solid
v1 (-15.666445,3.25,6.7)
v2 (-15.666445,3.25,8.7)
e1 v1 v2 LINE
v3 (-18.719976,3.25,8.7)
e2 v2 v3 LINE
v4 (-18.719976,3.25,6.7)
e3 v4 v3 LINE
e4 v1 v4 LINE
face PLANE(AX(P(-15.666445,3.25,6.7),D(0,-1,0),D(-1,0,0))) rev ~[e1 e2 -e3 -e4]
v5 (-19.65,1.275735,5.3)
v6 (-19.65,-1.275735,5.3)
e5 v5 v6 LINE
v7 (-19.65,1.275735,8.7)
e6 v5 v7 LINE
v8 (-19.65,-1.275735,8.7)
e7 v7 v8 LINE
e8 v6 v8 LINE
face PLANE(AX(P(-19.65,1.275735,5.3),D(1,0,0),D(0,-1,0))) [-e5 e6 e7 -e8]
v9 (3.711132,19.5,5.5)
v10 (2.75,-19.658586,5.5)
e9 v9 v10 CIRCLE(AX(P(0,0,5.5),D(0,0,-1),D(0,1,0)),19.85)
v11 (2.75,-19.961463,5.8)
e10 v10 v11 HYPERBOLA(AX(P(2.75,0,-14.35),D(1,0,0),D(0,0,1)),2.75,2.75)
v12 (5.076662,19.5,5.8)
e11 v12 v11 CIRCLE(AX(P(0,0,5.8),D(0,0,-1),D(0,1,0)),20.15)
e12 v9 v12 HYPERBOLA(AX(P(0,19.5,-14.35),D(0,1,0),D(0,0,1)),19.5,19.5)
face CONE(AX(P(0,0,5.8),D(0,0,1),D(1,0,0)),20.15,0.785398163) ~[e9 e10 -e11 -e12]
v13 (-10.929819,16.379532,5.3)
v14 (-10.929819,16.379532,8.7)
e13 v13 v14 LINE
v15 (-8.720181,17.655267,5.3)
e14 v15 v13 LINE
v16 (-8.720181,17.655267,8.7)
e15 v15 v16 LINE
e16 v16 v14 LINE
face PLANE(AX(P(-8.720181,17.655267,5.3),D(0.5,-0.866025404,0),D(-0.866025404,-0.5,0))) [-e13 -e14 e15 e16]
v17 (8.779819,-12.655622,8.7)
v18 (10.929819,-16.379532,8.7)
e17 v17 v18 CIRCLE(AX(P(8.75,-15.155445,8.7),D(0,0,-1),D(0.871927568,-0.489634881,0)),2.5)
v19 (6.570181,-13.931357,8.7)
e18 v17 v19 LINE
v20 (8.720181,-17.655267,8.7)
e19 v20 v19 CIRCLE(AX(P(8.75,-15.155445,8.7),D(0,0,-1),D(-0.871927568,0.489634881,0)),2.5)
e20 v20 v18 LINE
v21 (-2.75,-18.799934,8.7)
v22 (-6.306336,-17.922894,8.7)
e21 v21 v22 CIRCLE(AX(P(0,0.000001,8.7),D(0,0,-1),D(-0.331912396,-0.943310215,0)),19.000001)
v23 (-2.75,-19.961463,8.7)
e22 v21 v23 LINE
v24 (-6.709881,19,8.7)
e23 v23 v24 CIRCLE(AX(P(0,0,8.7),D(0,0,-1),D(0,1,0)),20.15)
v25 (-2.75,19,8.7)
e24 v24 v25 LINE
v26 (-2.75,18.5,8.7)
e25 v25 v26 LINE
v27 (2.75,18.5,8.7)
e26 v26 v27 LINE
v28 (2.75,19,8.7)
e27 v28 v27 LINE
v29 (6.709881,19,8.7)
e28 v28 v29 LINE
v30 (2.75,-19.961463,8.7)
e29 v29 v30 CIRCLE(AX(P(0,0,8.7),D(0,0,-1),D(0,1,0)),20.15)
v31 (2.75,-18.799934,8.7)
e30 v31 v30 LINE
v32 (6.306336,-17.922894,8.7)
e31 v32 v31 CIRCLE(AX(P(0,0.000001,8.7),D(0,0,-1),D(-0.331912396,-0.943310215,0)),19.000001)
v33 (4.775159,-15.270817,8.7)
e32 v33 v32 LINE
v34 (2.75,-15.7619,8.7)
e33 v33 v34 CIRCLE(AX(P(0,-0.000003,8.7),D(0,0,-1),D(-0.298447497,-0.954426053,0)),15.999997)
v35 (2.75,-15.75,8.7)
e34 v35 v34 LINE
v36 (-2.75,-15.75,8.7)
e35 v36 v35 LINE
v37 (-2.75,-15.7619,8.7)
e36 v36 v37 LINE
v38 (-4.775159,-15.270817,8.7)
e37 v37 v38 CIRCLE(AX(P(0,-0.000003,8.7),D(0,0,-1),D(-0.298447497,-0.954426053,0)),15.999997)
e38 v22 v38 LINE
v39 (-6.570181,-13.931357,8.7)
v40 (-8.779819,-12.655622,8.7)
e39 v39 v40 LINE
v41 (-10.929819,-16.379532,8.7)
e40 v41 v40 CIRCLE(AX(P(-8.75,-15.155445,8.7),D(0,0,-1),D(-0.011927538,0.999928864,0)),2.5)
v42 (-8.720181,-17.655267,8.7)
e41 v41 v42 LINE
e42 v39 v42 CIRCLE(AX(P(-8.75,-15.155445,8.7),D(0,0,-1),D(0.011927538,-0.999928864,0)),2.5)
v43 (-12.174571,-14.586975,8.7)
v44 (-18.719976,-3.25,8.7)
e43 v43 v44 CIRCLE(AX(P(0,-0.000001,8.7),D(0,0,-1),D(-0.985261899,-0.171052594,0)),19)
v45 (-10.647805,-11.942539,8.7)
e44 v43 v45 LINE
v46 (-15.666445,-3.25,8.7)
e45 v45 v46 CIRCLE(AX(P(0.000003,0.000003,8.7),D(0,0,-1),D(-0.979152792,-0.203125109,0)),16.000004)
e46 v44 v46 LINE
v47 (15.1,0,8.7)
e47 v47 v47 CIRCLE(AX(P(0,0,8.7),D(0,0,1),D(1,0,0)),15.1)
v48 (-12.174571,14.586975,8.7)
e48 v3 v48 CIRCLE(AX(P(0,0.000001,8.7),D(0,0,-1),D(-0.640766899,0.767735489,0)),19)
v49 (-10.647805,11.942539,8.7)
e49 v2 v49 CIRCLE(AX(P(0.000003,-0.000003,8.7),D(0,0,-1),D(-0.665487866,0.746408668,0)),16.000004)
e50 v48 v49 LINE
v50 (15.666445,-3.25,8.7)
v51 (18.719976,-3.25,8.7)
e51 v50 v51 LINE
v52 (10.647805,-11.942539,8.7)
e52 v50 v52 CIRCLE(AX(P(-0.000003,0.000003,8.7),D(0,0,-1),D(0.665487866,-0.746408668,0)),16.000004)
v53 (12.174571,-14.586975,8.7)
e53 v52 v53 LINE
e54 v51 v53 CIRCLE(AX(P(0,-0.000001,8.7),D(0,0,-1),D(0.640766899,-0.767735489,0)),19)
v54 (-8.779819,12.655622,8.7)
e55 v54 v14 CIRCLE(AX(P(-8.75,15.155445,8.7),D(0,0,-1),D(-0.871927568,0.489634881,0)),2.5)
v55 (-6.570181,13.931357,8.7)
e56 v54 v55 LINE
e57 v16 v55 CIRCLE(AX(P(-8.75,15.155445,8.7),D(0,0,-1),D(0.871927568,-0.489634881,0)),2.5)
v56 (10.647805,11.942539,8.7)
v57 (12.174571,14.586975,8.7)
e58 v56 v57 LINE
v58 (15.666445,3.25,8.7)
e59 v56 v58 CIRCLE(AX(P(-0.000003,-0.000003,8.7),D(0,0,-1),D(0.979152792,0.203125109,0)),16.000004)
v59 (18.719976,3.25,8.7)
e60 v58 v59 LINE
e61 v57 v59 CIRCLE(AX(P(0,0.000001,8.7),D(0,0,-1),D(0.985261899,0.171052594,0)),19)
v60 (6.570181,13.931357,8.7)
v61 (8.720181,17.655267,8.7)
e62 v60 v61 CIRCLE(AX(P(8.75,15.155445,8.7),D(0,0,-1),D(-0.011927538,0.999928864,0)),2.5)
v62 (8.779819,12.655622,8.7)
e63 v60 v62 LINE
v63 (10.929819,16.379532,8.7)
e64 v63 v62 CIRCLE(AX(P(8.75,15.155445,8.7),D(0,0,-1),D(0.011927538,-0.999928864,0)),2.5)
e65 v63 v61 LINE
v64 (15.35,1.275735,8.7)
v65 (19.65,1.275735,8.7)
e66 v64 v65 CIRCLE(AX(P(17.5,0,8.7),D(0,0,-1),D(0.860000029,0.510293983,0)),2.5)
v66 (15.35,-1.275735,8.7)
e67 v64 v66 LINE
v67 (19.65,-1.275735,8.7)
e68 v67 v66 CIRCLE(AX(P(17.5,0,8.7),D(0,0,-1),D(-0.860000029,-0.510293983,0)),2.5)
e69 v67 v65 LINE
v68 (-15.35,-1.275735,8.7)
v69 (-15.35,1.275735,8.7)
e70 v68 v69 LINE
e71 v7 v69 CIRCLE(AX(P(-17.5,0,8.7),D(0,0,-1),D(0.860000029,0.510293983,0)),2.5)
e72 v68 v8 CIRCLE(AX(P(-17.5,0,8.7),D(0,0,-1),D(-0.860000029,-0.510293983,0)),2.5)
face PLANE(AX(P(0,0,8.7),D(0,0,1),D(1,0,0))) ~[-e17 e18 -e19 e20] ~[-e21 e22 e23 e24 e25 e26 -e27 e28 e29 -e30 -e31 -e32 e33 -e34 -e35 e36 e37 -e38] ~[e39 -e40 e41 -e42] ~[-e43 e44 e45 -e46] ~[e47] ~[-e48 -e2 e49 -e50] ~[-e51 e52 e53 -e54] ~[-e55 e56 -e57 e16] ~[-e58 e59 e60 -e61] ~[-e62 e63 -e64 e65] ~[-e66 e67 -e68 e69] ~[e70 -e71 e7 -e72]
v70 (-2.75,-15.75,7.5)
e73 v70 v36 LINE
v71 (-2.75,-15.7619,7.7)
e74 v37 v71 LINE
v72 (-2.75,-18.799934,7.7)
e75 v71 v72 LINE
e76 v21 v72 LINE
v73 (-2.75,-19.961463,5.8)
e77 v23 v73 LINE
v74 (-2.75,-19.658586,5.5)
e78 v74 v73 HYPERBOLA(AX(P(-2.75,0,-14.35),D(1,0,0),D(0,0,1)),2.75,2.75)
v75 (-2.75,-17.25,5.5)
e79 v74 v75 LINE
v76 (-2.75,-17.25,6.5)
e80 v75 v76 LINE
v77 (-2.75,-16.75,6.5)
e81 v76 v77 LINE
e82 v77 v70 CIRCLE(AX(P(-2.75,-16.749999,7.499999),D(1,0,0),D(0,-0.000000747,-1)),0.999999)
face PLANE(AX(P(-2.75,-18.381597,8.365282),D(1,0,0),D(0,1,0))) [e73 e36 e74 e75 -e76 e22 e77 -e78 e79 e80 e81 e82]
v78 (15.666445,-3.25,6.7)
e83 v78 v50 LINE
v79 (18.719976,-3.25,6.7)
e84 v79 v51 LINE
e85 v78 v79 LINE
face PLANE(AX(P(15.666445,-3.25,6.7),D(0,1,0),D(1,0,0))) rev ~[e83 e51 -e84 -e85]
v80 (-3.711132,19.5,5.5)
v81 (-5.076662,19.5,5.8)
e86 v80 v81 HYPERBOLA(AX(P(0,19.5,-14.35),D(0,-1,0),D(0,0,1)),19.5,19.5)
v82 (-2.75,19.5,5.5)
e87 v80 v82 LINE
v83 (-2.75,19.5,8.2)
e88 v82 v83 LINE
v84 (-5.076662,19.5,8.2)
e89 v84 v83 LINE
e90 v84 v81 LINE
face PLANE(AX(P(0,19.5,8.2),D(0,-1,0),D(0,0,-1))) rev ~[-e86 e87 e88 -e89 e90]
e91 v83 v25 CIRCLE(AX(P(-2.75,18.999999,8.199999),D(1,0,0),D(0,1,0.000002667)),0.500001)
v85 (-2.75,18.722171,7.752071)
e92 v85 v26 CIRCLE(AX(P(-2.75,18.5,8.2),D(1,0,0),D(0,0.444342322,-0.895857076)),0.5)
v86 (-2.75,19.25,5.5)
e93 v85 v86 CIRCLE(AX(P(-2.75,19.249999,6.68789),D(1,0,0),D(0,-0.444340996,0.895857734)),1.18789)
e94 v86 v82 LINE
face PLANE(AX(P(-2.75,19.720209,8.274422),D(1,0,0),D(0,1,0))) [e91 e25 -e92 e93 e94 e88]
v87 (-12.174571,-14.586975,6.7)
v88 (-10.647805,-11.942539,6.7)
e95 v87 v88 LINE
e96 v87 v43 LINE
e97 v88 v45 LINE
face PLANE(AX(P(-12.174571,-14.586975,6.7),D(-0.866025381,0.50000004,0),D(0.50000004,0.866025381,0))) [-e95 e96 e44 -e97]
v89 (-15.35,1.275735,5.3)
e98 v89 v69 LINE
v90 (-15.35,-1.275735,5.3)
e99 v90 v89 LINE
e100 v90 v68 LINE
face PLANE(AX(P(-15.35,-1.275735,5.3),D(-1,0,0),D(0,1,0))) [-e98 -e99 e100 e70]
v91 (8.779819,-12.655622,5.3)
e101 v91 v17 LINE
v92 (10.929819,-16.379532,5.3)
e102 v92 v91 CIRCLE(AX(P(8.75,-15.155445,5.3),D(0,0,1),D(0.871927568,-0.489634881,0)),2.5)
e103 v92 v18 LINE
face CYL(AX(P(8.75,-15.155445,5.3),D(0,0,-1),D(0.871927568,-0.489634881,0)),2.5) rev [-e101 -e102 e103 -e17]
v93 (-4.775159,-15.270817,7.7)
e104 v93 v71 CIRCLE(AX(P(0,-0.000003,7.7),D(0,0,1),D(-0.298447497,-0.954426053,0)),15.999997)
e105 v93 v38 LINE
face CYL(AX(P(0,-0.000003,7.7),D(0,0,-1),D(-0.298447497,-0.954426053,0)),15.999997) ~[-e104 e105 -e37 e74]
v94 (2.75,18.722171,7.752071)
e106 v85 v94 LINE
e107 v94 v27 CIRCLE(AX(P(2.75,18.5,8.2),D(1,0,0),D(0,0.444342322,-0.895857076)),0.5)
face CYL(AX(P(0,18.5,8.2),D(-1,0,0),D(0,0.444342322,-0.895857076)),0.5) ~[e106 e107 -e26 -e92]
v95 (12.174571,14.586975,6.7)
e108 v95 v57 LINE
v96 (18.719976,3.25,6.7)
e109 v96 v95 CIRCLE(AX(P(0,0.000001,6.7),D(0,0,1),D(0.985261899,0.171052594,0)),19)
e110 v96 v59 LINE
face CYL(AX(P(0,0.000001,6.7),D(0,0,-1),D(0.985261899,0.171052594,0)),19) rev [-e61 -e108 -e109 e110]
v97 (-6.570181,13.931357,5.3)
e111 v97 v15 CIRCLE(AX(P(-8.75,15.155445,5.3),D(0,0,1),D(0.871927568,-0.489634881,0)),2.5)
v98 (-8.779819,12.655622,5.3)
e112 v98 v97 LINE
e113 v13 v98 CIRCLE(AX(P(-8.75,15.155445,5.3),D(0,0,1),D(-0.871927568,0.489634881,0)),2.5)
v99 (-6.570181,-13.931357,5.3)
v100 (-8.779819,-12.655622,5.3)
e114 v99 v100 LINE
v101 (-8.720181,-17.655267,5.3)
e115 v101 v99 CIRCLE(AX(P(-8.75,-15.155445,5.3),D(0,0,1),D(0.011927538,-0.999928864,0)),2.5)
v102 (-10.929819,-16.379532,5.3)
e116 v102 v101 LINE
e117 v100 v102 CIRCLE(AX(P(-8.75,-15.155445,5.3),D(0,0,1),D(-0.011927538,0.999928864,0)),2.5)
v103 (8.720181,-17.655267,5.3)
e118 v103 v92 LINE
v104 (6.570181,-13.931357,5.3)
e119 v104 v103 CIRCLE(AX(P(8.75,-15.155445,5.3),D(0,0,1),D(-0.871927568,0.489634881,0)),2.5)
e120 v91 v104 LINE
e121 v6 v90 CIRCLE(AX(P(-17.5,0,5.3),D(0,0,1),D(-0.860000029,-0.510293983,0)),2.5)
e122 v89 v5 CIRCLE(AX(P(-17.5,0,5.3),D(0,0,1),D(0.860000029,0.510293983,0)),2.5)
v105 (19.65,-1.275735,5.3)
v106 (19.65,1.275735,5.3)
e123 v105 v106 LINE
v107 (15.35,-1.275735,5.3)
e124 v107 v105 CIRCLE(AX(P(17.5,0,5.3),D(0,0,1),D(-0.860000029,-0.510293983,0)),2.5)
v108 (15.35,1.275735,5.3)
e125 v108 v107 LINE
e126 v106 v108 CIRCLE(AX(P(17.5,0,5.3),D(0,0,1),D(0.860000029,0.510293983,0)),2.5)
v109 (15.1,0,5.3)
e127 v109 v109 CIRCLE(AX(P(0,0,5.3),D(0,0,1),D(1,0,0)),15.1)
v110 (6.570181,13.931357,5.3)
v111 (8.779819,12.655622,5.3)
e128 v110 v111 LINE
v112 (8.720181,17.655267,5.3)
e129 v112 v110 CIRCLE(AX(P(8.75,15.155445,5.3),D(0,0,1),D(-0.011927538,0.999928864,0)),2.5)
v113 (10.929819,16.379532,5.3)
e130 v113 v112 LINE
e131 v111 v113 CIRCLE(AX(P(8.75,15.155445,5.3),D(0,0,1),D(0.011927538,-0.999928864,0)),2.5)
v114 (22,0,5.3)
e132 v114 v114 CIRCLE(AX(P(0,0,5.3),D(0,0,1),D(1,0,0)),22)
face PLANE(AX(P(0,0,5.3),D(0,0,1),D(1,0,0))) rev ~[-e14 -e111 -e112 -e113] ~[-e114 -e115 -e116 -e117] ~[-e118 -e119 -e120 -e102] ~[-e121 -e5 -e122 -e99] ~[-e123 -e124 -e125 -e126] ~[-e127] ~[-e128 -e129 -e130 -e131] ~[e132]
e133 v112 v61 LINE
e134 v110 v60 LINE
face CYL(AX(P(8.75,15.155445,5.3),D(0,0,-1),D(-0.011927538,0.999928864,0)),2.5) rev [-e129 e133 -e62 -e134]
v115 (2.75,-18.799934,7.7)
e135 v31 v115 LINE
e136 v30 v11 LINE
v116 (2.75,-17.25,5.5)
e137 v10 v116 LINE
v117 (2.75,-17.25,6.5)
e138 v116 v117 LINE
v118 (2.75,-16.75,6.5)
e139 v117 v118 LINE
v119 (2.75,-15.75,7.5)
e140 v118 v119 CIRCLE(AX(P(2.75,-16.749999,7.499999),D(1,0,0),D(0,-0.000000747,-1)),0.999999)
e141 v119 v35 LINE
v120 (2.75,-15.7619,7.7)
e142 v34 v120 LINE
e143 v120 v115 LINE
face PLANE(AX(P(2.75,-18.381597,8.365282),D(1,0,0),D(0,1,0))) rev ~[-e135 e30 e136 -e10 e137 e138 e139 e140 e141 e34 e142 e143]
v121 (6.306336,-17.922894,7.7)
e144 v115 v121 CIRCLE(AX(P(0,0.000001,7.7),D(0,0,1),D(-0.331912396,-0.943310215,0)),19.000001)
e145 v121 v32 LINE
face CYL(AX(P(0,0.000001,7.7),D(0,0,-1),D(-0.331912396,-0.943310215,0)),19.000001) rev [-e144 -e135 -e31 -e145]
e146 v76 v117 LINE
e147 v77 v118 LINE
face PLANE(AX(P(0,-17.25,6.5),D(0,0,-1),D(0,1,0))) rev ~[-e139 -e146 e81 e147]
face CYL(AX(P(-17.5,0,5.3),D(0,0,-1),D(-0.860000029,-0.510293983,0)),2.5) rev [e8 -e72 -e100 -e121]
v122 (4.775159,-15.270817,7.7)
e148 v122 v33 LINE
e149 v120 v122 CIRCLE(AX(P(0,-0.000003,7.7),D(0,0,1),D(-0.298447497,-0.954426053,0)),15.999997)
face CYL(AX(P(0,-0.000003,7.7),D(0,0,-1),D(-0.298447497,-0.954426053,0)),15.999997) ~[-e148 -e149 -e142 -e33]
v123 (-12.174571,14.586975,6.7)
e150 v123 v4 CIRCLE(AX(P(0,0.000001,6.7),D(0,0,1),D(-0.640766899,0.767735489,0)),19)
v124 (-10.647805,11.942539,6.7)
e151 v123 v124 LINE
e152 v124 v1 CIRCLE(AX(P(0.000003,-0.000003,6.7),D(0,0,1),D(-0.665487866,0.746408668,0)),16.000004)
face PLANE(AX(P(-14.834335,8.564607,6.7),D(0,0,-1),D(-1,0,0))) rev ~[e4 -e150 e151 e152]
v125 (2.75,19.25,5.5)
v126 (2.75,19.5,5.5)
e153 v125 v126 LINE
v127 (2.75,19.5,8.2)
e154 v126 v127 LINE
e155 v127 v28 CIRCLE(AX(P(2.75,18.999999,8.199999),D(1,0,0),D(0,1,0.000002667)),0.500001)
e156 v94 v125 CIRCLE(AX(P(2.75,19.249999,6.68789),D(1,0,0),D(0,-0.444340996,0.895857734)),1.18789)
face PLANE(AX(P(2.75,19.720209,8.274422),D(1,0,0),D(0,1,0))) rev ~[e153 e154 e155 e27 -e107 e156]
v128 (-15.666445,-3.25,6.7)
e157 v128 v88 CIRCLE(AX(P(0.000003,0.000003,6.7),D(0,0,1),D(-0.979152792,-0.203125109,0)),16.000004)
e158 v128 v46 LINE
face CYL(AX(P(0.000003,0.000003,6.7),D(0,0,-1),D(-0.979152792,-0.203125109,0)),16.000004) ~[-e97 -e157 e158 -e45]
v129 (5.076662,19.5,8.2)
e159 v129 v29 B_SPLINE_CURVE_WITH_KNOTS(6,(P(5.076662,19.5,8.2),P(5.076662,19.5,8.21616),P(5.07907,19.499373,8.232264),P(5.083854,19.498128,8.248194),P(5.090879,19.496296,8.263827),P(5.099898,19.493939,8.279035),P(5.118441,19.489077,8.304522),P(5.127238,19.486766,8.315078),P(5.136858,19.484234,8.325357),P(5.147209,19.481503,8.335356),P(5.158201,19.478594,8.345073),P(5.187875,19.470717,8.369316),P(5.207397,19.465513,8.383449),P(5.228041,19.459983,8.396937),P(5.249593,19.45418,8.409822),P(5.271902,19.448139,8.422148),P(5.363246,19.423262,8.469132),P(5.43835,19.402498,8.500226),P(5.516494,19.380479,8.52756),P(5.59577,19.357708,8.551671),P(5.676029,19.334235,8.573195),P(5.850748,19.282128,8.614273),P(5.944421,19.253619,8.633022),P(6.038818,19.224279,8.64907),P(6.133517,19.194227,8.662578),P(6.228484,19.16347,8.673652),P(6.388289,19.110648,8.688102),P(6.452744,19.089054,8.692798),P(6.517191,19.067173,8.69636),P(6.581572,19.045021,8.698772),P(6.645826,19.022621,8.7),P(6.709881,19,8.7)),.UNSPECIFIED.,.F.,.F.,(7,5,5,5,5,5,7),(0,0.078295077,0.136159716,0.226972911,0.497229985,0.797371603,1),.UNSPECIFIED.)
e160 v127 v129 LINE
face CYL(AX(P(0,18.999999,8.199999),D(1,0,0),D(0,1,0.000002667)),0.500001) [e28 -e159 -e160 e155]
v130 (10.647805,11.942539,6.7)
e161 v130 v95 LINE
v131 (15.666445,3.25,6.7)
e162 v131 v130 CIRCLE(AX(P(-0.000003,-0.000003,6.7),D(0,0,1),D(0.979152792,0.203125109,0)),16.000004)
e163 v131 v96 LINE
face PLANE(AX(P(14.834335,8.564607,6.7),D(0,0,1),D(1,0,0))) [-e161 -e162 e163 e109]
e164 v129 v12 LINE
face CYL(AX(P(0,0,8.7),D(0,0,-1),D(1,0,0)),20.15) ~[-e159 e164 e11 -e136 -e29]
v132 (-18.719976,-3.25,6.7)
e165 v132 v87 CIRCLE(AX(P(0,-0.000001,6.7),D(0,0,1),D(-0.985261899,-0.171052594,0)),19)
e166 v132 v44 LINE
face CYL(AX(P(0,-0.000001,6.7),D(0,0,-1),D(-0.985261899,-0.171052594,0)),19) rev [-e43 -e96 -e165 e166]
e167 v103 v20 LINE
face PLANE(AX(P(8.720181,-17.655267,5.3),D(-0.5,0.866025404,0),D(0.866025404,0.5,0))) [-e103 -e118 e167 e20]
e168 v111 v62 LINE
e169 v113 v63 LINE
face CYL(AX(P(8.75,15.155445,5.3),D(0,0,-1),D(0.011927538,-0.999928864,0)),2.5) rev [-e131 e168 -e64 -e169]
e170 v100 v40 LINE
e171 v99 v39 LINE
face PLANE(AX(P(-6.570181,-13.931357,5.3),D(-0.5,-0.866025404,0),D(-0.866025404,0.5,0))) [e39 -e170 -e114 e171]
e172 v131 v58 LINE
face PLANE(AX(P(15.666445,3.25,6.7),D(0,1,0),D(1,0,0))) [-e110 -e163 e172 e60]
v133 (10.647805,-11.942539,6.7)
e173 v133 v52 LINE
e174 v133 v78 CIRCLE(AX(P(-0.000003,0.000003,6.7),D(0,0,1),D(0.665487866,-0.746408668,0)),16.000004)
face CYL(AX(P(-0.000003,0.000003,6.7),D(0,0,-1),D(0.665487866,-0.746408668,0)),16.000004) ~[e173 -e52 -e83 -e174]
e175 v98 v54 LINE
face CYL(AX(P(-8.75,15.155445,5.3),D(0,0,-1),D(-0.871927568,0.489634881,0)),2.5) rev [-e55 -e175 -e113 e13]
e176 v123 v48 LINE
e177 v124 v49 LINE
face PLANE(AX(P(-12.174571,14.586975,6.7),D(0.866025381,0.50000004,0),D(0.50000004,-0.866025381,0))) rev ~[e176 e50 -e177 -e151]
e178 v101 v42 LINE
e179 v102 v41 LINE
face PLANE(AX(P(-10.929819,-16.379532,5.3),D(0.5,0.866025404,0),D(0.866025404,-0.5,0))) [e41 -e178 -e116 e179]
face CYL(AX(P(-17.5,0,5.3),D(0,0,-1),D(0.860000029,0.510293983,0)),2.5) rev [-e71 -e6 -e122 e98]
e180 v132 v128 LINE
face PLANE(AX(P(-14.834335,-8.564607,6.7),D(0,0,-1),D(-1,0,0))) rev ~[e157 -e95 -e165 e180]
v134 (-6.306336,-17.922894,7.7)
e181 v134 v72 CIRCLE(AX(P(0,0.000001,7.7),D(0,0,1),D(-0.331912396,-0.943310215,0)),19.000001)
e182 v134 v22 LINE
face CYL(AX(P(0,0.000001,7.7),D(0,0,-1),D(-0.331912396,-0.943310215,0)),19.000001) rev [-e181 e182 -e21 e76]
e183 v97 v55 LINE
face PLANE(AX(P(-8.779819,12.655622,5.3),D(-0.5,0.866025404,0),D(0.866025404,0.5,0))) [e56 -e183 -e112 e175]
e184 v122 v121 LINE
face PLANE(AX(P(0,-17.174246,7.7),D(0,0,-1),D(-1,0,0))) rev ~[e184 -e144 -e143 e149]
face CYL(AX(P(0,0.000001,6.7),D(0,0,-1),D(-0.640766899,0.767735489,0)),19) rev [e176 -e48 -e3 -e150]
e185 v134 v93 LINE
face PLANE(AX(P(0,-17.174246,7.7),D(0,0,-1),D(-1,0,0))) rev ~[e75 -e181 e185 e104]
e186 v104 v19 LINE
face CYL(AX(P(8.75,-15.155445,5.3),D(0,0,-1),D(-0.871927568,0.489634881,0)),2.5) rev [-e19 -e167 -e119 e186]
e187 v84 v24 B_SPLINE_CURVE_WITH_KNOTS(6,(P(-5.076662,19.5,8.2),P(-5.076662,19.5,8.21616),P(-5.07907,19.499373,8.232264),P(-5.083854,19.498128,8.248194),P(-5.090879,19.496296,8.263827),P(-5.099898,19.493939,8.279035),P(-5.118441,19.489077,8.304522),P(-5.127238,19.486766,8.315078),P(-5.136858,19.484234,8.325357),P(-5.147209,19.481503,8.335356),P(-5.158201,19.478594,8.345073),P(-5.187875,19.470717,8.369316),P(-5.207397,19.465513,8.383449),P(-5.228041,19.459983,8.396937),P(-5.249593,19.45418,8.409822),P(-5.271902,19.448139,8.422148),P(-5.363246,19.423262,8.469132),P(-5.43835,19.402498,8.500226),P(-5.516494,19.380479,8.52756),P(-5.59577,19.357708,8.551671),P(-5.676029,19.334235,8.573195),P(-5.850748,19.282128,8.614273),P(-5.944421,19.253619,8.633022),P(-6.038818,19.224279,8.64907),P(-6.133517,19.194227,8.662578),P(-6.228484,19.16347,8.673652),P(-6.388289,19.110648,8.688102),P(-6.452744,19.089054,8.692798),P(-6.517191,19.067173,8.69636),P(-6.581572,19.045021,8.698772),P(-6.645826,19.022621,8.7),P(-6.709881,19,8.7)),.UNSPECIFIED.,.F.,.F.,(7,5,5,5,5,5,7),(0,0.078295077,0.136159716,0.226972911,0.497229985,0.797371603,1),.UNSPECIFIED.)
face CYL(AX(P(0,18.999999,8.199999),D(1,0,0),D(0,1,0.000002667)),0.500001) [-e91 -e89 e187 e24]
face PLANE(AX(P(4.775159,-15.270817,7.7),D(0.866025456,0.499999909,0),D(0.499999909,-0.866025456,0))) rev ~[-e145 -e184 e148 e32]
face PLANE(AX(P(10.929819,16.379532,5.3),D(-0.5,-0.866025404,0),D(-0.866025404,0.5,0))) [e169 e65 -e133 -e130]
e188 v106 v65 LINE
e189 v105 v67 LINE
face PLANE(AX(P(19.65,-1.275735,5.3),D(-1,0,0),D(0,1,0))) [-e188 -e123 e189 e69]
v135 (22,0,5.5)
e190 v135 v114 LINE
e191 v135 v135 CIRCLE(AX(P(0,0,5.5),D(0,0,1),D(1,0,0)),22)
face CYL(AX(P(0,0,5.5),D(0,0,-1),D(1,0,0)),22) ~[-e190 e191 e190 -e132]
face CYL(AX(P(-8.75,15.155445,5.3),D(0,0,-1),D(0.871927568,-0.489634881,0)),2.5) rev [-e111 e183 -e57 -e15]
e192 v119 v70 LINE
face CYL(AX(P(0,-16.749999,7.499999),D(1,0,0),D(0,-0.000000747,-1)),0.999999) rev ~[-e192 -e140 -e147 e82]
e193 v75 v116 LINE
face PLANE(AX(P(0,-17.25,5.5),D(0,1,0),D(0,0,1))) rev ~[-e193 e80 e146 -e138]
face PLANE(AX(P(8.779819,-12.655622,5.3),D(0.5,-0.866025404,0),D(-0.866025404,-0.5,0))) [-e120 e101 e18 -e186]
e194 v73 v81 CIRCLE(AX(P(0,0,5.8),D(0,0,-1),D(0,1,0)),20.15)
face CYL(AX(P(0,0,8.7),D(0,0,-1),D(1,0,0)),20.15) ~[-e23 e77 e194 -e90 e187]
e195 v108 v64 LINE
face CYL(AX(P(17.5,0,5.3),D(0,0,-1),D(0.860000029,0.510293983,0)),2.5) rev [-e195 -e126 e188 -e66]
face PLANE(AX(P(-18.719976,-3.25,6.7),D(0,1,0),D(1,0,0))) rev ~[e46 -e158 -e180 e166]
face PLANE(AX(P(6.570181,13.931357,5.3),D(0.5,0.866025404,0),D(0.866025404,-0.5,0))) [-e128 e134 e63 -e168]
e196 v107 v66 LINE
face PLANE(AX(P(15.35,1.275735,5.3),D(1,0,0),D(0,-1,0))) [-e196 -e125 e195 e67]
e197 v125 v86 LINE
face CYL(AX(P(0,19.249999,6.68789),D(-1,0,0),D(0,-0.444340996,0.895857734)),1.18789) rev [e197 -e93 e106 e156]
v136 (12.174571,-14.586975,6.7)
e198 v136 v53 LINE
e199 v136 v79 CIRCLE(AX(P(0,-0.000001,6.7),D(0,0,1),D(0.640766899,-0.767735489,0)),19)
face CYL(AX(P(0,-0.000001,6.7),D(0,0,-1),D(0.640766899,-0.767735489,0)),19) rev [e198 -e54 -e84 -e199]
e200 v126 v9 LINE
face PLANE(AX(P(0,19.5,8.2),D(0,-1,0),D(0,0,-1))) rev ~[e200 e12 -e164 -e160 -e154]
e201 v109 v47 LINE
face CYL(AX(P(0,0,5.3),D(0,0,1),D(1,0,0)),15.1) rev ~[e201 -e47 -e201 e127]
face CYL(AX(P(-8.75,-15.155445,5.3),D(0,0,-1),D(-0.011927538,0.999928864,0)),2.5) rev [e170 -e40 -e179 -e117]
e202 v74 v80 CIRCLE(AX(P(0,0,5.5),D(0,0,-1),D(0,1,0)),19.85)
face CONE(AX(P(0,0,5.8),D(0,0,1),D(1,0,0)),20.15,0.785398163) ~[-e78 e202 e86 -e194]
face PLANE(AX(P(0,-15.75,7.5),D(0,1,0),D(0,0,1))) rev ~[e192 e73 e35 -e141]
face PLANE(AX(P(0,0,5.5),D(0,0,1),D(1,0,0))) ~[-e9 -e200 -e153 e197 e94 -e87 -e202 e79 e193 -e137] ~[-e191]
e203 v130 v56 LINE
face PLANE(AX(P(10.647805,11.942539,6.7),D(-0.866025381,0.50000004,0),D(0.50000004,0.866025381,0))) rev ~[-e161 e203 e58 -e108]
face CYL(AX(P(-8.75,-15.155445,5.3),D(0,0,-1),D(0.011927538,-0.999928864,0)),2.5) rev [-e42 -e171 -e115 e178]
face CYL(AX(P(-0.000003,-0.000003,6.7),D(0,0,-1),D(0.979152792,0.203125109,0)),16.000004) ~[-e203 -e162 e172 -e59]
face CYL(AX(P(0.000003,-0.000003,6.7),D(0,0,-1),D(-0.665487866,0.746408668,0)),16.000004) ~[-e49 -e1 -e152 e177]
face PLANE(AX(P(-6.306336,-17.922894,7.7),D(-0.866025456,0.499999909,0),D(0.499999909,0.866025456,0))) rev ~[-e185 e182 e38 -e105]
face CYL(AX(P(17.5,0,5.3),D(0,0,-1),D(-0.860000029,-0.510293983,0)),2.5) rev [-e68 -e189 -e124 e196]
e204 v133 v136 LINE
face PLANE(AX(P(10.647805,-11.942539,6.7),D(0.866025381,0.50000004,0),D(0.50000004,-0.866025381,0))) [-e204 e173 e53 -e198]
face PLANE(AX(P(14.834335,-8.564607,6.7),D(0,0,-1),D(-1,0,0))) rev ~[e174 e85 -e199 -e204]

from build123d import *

# Parameters (mm, degrees)
POCKET_DEPTH         = 128.037431
POLARPATTERN_COUNT   = 6
POCKET004_DEPTH      = 1.001
POCKET005_DEPTH      = 2.001
POCKET006_DEPTH      = 22.001
POCKET006_DEPTH_BACK = -22.001
POCKET007_DEPTH      = 2.75


with BuildPart() as part:
    # Sketch → Revolution (revolve)
    with BuildSketch(Plane.XZ):
        Polygon((19.85, 5.5), (22, 5.5), (22, 5.3), (15.1, 5.3), (15.1, 8.7), (20.15, 8.7), (20.15, 5.8), align=None)
    revolve(axis=Axis((0, 0, 0), (0, 0, 1)))

    # Sketch001 → Pocket (cut, through all)
    with BuildSketch(Plane.XY.offset(5.3)):
        with BuildLine():
            ThreePointArc((-15.35, 1.275735), (-17.5, 2.5), (-19.65, 1.275735))
            Line((-19.65, 1.275735), (-19.65, -1.275735))
            ThreePointArc((-19.65, -1.275735), (-17.5, -2.5), (-15.35, -1.275735))
            Line((-15.35, -1.275735), (-15.35, 1.275735))
        make_face()
    pocket = extrude(amount=POCKET_DEPTH, mode=Mode.SUBTRACT)

    # PolarPattern: Pocket ×6 about axis
    polarpattern_axis = Axis((0, 0, 0), (0, 0, 1))
    for i in range(1, POLARPATTERN_COUNT):
        add(pocket.rotate(polarpattern_axis, i * 360 / POLARPATTERN_COUNT), mode=Mode.SUBTRACT)

    # Sketch005 → Pocket004 (cut, through all)
    with BuildSketch(Plane.XY.offset(7.7)):
        with BuildLine():
            ThreePointArc((-4.775159, -15.270817), (0, -16), (4.775159, -15.270817))
            Line((4.775159, -15.270817), (6.306336, -17.922894))
            ThreePointArc((-6.306336, -17.922894), (0, -19), (6.306336, -17.922894))
            Line((-6.306336, -17.922894), (-4.775159, -15.270817))
        make_face()
    extrude(amount=POCKET004_DEPTH, mode=Mode.SUBTRACT)

    # Sketch006 → Pocket005 (cut, through all)
    with BuildSketch(Plane.XY.offset(6.7)):
        with BuildLine():
            ThreePointArc((-10.647805, 11.942539), (-13.856406, 8), (-15.666445, 3.25))
            Line((-15.666445, 3.25), (-18.719976, 3.25))
            ThreePointArc((-12.174571, 14.586975), (-16.454483, 9.5), (-18.719976, 3.25))
            Line((-12.174571, 14.586975), (-10.647805, 11.942539))
        make_face()
        with BuildLine():
            ThreePointArc((-15.666445, -3.25), (-13.856406, -8), (-10.647805, -11.942539))
            Line((-12.174571, -14.586975), (-10.647805, -11.942539))
            ThreePointArc((-18.719976, -3.25), (-16.454483, -9.5), (-12.174571, -14.586975))
            Line((-18.719976, -3.25), (-15.666445, -3.25))
        make_face()
        with BuildLine():
            ThreePointArc((10.647805, -11.942539), (13.856406, -8), (15.666445, -3.25))
            Line((15.666445, -3.25), (18.719976, -3.25))
            ThreePointArc((12.174571, -14.586975), (16.454483, -9.5), (18.719976, -3.25))
            Line((10.647805, -11.942539), (12.174571, -14.586975))
        make_face()
        with BuildLine():
            ThreePointArc((18.719976, 3.25), (16.454483, 9.5), (12.174571, 14.586975))
            Line((10.647805, 11.942539), (12.174571, 14.586975))
            ThreePointArc((15.666445, 3.25), (13.856406, 8), (10.647805, 11.942539))
            Line((15.666445, 3.25), (18.719976, 3.25))
        make_face()
    extrude(amount=POCKET005_DEPTH, mode=Mode.SUBTRACT)

    # Sketch008 → Pocket006 (cut, two sides)
    with BuildSketch(Plane.YZ) as pocket006_sk:
        with BuildLine():
            Line((19, 10), (19, 8.7))
            ThreePointArc((19.5, 8.2), (19.353553, 8.553553), (19, 8.7))
            Line((19.5, 8.2), (19.5, 5.5))
            Line((20.5, 5.5), (19.5, 5.5))
            Line((20.5, 10), (20.5, 5.5))
            Line((19, 10), (20.5, 10))
        make_face()
    extrude(amount=-POCKET006_DEPTH, mode=Mode.SUBTRACT)
    extrude(pocket006_sk.sketch, amount=-POCKET006_DEPTH_BACK, mode=Mode.SUBTRACT)

    # Sketch004 → Pocket007 (cut, symmetric)
    with BuildSketch(Plane.YZ):
        with BuildLine():
            Line((21, 11), (18.5, 11))
            Line((18.5, 11), (18.5, 8.7))
            ThreePointArc((18.722171, 7.752071), (18.986808, 8.314096), (18.5, 8.7))
            ThreePointArc((18.722171, 7.752071), (18.09345, 6.416824), (19.25, 5.5))
            Line((19.25, 5.5), (21, 5.5))
            Line((21, 5.5), (21, 11))
        make_face()
        with BuildLine():
            Line((-20.75, 11), (-20.75, 5.5))
            Line((-20.75, 5.5), (-19, 5.5))
            Line((-19, 5.5), (-17.25, 5.5))
            Line((-17.25, 5.5), (-17.25, 6.5))
            Line((-17.25, 6.5), (-16.75, 6.5))
            ThreePointArc((-16.75, 6.5), (-16.042893, 6.792893), (-15.75, 7.5))
            Line((-15.75, 7.5), (-15.75, 11))
            Line((-20.75, 11), (-15.75, 11))
        make_face()
    extrude(amount=POCKET007_DEPTH, both=True, mode=Mode.SUBTRACT)


solid = part.part
